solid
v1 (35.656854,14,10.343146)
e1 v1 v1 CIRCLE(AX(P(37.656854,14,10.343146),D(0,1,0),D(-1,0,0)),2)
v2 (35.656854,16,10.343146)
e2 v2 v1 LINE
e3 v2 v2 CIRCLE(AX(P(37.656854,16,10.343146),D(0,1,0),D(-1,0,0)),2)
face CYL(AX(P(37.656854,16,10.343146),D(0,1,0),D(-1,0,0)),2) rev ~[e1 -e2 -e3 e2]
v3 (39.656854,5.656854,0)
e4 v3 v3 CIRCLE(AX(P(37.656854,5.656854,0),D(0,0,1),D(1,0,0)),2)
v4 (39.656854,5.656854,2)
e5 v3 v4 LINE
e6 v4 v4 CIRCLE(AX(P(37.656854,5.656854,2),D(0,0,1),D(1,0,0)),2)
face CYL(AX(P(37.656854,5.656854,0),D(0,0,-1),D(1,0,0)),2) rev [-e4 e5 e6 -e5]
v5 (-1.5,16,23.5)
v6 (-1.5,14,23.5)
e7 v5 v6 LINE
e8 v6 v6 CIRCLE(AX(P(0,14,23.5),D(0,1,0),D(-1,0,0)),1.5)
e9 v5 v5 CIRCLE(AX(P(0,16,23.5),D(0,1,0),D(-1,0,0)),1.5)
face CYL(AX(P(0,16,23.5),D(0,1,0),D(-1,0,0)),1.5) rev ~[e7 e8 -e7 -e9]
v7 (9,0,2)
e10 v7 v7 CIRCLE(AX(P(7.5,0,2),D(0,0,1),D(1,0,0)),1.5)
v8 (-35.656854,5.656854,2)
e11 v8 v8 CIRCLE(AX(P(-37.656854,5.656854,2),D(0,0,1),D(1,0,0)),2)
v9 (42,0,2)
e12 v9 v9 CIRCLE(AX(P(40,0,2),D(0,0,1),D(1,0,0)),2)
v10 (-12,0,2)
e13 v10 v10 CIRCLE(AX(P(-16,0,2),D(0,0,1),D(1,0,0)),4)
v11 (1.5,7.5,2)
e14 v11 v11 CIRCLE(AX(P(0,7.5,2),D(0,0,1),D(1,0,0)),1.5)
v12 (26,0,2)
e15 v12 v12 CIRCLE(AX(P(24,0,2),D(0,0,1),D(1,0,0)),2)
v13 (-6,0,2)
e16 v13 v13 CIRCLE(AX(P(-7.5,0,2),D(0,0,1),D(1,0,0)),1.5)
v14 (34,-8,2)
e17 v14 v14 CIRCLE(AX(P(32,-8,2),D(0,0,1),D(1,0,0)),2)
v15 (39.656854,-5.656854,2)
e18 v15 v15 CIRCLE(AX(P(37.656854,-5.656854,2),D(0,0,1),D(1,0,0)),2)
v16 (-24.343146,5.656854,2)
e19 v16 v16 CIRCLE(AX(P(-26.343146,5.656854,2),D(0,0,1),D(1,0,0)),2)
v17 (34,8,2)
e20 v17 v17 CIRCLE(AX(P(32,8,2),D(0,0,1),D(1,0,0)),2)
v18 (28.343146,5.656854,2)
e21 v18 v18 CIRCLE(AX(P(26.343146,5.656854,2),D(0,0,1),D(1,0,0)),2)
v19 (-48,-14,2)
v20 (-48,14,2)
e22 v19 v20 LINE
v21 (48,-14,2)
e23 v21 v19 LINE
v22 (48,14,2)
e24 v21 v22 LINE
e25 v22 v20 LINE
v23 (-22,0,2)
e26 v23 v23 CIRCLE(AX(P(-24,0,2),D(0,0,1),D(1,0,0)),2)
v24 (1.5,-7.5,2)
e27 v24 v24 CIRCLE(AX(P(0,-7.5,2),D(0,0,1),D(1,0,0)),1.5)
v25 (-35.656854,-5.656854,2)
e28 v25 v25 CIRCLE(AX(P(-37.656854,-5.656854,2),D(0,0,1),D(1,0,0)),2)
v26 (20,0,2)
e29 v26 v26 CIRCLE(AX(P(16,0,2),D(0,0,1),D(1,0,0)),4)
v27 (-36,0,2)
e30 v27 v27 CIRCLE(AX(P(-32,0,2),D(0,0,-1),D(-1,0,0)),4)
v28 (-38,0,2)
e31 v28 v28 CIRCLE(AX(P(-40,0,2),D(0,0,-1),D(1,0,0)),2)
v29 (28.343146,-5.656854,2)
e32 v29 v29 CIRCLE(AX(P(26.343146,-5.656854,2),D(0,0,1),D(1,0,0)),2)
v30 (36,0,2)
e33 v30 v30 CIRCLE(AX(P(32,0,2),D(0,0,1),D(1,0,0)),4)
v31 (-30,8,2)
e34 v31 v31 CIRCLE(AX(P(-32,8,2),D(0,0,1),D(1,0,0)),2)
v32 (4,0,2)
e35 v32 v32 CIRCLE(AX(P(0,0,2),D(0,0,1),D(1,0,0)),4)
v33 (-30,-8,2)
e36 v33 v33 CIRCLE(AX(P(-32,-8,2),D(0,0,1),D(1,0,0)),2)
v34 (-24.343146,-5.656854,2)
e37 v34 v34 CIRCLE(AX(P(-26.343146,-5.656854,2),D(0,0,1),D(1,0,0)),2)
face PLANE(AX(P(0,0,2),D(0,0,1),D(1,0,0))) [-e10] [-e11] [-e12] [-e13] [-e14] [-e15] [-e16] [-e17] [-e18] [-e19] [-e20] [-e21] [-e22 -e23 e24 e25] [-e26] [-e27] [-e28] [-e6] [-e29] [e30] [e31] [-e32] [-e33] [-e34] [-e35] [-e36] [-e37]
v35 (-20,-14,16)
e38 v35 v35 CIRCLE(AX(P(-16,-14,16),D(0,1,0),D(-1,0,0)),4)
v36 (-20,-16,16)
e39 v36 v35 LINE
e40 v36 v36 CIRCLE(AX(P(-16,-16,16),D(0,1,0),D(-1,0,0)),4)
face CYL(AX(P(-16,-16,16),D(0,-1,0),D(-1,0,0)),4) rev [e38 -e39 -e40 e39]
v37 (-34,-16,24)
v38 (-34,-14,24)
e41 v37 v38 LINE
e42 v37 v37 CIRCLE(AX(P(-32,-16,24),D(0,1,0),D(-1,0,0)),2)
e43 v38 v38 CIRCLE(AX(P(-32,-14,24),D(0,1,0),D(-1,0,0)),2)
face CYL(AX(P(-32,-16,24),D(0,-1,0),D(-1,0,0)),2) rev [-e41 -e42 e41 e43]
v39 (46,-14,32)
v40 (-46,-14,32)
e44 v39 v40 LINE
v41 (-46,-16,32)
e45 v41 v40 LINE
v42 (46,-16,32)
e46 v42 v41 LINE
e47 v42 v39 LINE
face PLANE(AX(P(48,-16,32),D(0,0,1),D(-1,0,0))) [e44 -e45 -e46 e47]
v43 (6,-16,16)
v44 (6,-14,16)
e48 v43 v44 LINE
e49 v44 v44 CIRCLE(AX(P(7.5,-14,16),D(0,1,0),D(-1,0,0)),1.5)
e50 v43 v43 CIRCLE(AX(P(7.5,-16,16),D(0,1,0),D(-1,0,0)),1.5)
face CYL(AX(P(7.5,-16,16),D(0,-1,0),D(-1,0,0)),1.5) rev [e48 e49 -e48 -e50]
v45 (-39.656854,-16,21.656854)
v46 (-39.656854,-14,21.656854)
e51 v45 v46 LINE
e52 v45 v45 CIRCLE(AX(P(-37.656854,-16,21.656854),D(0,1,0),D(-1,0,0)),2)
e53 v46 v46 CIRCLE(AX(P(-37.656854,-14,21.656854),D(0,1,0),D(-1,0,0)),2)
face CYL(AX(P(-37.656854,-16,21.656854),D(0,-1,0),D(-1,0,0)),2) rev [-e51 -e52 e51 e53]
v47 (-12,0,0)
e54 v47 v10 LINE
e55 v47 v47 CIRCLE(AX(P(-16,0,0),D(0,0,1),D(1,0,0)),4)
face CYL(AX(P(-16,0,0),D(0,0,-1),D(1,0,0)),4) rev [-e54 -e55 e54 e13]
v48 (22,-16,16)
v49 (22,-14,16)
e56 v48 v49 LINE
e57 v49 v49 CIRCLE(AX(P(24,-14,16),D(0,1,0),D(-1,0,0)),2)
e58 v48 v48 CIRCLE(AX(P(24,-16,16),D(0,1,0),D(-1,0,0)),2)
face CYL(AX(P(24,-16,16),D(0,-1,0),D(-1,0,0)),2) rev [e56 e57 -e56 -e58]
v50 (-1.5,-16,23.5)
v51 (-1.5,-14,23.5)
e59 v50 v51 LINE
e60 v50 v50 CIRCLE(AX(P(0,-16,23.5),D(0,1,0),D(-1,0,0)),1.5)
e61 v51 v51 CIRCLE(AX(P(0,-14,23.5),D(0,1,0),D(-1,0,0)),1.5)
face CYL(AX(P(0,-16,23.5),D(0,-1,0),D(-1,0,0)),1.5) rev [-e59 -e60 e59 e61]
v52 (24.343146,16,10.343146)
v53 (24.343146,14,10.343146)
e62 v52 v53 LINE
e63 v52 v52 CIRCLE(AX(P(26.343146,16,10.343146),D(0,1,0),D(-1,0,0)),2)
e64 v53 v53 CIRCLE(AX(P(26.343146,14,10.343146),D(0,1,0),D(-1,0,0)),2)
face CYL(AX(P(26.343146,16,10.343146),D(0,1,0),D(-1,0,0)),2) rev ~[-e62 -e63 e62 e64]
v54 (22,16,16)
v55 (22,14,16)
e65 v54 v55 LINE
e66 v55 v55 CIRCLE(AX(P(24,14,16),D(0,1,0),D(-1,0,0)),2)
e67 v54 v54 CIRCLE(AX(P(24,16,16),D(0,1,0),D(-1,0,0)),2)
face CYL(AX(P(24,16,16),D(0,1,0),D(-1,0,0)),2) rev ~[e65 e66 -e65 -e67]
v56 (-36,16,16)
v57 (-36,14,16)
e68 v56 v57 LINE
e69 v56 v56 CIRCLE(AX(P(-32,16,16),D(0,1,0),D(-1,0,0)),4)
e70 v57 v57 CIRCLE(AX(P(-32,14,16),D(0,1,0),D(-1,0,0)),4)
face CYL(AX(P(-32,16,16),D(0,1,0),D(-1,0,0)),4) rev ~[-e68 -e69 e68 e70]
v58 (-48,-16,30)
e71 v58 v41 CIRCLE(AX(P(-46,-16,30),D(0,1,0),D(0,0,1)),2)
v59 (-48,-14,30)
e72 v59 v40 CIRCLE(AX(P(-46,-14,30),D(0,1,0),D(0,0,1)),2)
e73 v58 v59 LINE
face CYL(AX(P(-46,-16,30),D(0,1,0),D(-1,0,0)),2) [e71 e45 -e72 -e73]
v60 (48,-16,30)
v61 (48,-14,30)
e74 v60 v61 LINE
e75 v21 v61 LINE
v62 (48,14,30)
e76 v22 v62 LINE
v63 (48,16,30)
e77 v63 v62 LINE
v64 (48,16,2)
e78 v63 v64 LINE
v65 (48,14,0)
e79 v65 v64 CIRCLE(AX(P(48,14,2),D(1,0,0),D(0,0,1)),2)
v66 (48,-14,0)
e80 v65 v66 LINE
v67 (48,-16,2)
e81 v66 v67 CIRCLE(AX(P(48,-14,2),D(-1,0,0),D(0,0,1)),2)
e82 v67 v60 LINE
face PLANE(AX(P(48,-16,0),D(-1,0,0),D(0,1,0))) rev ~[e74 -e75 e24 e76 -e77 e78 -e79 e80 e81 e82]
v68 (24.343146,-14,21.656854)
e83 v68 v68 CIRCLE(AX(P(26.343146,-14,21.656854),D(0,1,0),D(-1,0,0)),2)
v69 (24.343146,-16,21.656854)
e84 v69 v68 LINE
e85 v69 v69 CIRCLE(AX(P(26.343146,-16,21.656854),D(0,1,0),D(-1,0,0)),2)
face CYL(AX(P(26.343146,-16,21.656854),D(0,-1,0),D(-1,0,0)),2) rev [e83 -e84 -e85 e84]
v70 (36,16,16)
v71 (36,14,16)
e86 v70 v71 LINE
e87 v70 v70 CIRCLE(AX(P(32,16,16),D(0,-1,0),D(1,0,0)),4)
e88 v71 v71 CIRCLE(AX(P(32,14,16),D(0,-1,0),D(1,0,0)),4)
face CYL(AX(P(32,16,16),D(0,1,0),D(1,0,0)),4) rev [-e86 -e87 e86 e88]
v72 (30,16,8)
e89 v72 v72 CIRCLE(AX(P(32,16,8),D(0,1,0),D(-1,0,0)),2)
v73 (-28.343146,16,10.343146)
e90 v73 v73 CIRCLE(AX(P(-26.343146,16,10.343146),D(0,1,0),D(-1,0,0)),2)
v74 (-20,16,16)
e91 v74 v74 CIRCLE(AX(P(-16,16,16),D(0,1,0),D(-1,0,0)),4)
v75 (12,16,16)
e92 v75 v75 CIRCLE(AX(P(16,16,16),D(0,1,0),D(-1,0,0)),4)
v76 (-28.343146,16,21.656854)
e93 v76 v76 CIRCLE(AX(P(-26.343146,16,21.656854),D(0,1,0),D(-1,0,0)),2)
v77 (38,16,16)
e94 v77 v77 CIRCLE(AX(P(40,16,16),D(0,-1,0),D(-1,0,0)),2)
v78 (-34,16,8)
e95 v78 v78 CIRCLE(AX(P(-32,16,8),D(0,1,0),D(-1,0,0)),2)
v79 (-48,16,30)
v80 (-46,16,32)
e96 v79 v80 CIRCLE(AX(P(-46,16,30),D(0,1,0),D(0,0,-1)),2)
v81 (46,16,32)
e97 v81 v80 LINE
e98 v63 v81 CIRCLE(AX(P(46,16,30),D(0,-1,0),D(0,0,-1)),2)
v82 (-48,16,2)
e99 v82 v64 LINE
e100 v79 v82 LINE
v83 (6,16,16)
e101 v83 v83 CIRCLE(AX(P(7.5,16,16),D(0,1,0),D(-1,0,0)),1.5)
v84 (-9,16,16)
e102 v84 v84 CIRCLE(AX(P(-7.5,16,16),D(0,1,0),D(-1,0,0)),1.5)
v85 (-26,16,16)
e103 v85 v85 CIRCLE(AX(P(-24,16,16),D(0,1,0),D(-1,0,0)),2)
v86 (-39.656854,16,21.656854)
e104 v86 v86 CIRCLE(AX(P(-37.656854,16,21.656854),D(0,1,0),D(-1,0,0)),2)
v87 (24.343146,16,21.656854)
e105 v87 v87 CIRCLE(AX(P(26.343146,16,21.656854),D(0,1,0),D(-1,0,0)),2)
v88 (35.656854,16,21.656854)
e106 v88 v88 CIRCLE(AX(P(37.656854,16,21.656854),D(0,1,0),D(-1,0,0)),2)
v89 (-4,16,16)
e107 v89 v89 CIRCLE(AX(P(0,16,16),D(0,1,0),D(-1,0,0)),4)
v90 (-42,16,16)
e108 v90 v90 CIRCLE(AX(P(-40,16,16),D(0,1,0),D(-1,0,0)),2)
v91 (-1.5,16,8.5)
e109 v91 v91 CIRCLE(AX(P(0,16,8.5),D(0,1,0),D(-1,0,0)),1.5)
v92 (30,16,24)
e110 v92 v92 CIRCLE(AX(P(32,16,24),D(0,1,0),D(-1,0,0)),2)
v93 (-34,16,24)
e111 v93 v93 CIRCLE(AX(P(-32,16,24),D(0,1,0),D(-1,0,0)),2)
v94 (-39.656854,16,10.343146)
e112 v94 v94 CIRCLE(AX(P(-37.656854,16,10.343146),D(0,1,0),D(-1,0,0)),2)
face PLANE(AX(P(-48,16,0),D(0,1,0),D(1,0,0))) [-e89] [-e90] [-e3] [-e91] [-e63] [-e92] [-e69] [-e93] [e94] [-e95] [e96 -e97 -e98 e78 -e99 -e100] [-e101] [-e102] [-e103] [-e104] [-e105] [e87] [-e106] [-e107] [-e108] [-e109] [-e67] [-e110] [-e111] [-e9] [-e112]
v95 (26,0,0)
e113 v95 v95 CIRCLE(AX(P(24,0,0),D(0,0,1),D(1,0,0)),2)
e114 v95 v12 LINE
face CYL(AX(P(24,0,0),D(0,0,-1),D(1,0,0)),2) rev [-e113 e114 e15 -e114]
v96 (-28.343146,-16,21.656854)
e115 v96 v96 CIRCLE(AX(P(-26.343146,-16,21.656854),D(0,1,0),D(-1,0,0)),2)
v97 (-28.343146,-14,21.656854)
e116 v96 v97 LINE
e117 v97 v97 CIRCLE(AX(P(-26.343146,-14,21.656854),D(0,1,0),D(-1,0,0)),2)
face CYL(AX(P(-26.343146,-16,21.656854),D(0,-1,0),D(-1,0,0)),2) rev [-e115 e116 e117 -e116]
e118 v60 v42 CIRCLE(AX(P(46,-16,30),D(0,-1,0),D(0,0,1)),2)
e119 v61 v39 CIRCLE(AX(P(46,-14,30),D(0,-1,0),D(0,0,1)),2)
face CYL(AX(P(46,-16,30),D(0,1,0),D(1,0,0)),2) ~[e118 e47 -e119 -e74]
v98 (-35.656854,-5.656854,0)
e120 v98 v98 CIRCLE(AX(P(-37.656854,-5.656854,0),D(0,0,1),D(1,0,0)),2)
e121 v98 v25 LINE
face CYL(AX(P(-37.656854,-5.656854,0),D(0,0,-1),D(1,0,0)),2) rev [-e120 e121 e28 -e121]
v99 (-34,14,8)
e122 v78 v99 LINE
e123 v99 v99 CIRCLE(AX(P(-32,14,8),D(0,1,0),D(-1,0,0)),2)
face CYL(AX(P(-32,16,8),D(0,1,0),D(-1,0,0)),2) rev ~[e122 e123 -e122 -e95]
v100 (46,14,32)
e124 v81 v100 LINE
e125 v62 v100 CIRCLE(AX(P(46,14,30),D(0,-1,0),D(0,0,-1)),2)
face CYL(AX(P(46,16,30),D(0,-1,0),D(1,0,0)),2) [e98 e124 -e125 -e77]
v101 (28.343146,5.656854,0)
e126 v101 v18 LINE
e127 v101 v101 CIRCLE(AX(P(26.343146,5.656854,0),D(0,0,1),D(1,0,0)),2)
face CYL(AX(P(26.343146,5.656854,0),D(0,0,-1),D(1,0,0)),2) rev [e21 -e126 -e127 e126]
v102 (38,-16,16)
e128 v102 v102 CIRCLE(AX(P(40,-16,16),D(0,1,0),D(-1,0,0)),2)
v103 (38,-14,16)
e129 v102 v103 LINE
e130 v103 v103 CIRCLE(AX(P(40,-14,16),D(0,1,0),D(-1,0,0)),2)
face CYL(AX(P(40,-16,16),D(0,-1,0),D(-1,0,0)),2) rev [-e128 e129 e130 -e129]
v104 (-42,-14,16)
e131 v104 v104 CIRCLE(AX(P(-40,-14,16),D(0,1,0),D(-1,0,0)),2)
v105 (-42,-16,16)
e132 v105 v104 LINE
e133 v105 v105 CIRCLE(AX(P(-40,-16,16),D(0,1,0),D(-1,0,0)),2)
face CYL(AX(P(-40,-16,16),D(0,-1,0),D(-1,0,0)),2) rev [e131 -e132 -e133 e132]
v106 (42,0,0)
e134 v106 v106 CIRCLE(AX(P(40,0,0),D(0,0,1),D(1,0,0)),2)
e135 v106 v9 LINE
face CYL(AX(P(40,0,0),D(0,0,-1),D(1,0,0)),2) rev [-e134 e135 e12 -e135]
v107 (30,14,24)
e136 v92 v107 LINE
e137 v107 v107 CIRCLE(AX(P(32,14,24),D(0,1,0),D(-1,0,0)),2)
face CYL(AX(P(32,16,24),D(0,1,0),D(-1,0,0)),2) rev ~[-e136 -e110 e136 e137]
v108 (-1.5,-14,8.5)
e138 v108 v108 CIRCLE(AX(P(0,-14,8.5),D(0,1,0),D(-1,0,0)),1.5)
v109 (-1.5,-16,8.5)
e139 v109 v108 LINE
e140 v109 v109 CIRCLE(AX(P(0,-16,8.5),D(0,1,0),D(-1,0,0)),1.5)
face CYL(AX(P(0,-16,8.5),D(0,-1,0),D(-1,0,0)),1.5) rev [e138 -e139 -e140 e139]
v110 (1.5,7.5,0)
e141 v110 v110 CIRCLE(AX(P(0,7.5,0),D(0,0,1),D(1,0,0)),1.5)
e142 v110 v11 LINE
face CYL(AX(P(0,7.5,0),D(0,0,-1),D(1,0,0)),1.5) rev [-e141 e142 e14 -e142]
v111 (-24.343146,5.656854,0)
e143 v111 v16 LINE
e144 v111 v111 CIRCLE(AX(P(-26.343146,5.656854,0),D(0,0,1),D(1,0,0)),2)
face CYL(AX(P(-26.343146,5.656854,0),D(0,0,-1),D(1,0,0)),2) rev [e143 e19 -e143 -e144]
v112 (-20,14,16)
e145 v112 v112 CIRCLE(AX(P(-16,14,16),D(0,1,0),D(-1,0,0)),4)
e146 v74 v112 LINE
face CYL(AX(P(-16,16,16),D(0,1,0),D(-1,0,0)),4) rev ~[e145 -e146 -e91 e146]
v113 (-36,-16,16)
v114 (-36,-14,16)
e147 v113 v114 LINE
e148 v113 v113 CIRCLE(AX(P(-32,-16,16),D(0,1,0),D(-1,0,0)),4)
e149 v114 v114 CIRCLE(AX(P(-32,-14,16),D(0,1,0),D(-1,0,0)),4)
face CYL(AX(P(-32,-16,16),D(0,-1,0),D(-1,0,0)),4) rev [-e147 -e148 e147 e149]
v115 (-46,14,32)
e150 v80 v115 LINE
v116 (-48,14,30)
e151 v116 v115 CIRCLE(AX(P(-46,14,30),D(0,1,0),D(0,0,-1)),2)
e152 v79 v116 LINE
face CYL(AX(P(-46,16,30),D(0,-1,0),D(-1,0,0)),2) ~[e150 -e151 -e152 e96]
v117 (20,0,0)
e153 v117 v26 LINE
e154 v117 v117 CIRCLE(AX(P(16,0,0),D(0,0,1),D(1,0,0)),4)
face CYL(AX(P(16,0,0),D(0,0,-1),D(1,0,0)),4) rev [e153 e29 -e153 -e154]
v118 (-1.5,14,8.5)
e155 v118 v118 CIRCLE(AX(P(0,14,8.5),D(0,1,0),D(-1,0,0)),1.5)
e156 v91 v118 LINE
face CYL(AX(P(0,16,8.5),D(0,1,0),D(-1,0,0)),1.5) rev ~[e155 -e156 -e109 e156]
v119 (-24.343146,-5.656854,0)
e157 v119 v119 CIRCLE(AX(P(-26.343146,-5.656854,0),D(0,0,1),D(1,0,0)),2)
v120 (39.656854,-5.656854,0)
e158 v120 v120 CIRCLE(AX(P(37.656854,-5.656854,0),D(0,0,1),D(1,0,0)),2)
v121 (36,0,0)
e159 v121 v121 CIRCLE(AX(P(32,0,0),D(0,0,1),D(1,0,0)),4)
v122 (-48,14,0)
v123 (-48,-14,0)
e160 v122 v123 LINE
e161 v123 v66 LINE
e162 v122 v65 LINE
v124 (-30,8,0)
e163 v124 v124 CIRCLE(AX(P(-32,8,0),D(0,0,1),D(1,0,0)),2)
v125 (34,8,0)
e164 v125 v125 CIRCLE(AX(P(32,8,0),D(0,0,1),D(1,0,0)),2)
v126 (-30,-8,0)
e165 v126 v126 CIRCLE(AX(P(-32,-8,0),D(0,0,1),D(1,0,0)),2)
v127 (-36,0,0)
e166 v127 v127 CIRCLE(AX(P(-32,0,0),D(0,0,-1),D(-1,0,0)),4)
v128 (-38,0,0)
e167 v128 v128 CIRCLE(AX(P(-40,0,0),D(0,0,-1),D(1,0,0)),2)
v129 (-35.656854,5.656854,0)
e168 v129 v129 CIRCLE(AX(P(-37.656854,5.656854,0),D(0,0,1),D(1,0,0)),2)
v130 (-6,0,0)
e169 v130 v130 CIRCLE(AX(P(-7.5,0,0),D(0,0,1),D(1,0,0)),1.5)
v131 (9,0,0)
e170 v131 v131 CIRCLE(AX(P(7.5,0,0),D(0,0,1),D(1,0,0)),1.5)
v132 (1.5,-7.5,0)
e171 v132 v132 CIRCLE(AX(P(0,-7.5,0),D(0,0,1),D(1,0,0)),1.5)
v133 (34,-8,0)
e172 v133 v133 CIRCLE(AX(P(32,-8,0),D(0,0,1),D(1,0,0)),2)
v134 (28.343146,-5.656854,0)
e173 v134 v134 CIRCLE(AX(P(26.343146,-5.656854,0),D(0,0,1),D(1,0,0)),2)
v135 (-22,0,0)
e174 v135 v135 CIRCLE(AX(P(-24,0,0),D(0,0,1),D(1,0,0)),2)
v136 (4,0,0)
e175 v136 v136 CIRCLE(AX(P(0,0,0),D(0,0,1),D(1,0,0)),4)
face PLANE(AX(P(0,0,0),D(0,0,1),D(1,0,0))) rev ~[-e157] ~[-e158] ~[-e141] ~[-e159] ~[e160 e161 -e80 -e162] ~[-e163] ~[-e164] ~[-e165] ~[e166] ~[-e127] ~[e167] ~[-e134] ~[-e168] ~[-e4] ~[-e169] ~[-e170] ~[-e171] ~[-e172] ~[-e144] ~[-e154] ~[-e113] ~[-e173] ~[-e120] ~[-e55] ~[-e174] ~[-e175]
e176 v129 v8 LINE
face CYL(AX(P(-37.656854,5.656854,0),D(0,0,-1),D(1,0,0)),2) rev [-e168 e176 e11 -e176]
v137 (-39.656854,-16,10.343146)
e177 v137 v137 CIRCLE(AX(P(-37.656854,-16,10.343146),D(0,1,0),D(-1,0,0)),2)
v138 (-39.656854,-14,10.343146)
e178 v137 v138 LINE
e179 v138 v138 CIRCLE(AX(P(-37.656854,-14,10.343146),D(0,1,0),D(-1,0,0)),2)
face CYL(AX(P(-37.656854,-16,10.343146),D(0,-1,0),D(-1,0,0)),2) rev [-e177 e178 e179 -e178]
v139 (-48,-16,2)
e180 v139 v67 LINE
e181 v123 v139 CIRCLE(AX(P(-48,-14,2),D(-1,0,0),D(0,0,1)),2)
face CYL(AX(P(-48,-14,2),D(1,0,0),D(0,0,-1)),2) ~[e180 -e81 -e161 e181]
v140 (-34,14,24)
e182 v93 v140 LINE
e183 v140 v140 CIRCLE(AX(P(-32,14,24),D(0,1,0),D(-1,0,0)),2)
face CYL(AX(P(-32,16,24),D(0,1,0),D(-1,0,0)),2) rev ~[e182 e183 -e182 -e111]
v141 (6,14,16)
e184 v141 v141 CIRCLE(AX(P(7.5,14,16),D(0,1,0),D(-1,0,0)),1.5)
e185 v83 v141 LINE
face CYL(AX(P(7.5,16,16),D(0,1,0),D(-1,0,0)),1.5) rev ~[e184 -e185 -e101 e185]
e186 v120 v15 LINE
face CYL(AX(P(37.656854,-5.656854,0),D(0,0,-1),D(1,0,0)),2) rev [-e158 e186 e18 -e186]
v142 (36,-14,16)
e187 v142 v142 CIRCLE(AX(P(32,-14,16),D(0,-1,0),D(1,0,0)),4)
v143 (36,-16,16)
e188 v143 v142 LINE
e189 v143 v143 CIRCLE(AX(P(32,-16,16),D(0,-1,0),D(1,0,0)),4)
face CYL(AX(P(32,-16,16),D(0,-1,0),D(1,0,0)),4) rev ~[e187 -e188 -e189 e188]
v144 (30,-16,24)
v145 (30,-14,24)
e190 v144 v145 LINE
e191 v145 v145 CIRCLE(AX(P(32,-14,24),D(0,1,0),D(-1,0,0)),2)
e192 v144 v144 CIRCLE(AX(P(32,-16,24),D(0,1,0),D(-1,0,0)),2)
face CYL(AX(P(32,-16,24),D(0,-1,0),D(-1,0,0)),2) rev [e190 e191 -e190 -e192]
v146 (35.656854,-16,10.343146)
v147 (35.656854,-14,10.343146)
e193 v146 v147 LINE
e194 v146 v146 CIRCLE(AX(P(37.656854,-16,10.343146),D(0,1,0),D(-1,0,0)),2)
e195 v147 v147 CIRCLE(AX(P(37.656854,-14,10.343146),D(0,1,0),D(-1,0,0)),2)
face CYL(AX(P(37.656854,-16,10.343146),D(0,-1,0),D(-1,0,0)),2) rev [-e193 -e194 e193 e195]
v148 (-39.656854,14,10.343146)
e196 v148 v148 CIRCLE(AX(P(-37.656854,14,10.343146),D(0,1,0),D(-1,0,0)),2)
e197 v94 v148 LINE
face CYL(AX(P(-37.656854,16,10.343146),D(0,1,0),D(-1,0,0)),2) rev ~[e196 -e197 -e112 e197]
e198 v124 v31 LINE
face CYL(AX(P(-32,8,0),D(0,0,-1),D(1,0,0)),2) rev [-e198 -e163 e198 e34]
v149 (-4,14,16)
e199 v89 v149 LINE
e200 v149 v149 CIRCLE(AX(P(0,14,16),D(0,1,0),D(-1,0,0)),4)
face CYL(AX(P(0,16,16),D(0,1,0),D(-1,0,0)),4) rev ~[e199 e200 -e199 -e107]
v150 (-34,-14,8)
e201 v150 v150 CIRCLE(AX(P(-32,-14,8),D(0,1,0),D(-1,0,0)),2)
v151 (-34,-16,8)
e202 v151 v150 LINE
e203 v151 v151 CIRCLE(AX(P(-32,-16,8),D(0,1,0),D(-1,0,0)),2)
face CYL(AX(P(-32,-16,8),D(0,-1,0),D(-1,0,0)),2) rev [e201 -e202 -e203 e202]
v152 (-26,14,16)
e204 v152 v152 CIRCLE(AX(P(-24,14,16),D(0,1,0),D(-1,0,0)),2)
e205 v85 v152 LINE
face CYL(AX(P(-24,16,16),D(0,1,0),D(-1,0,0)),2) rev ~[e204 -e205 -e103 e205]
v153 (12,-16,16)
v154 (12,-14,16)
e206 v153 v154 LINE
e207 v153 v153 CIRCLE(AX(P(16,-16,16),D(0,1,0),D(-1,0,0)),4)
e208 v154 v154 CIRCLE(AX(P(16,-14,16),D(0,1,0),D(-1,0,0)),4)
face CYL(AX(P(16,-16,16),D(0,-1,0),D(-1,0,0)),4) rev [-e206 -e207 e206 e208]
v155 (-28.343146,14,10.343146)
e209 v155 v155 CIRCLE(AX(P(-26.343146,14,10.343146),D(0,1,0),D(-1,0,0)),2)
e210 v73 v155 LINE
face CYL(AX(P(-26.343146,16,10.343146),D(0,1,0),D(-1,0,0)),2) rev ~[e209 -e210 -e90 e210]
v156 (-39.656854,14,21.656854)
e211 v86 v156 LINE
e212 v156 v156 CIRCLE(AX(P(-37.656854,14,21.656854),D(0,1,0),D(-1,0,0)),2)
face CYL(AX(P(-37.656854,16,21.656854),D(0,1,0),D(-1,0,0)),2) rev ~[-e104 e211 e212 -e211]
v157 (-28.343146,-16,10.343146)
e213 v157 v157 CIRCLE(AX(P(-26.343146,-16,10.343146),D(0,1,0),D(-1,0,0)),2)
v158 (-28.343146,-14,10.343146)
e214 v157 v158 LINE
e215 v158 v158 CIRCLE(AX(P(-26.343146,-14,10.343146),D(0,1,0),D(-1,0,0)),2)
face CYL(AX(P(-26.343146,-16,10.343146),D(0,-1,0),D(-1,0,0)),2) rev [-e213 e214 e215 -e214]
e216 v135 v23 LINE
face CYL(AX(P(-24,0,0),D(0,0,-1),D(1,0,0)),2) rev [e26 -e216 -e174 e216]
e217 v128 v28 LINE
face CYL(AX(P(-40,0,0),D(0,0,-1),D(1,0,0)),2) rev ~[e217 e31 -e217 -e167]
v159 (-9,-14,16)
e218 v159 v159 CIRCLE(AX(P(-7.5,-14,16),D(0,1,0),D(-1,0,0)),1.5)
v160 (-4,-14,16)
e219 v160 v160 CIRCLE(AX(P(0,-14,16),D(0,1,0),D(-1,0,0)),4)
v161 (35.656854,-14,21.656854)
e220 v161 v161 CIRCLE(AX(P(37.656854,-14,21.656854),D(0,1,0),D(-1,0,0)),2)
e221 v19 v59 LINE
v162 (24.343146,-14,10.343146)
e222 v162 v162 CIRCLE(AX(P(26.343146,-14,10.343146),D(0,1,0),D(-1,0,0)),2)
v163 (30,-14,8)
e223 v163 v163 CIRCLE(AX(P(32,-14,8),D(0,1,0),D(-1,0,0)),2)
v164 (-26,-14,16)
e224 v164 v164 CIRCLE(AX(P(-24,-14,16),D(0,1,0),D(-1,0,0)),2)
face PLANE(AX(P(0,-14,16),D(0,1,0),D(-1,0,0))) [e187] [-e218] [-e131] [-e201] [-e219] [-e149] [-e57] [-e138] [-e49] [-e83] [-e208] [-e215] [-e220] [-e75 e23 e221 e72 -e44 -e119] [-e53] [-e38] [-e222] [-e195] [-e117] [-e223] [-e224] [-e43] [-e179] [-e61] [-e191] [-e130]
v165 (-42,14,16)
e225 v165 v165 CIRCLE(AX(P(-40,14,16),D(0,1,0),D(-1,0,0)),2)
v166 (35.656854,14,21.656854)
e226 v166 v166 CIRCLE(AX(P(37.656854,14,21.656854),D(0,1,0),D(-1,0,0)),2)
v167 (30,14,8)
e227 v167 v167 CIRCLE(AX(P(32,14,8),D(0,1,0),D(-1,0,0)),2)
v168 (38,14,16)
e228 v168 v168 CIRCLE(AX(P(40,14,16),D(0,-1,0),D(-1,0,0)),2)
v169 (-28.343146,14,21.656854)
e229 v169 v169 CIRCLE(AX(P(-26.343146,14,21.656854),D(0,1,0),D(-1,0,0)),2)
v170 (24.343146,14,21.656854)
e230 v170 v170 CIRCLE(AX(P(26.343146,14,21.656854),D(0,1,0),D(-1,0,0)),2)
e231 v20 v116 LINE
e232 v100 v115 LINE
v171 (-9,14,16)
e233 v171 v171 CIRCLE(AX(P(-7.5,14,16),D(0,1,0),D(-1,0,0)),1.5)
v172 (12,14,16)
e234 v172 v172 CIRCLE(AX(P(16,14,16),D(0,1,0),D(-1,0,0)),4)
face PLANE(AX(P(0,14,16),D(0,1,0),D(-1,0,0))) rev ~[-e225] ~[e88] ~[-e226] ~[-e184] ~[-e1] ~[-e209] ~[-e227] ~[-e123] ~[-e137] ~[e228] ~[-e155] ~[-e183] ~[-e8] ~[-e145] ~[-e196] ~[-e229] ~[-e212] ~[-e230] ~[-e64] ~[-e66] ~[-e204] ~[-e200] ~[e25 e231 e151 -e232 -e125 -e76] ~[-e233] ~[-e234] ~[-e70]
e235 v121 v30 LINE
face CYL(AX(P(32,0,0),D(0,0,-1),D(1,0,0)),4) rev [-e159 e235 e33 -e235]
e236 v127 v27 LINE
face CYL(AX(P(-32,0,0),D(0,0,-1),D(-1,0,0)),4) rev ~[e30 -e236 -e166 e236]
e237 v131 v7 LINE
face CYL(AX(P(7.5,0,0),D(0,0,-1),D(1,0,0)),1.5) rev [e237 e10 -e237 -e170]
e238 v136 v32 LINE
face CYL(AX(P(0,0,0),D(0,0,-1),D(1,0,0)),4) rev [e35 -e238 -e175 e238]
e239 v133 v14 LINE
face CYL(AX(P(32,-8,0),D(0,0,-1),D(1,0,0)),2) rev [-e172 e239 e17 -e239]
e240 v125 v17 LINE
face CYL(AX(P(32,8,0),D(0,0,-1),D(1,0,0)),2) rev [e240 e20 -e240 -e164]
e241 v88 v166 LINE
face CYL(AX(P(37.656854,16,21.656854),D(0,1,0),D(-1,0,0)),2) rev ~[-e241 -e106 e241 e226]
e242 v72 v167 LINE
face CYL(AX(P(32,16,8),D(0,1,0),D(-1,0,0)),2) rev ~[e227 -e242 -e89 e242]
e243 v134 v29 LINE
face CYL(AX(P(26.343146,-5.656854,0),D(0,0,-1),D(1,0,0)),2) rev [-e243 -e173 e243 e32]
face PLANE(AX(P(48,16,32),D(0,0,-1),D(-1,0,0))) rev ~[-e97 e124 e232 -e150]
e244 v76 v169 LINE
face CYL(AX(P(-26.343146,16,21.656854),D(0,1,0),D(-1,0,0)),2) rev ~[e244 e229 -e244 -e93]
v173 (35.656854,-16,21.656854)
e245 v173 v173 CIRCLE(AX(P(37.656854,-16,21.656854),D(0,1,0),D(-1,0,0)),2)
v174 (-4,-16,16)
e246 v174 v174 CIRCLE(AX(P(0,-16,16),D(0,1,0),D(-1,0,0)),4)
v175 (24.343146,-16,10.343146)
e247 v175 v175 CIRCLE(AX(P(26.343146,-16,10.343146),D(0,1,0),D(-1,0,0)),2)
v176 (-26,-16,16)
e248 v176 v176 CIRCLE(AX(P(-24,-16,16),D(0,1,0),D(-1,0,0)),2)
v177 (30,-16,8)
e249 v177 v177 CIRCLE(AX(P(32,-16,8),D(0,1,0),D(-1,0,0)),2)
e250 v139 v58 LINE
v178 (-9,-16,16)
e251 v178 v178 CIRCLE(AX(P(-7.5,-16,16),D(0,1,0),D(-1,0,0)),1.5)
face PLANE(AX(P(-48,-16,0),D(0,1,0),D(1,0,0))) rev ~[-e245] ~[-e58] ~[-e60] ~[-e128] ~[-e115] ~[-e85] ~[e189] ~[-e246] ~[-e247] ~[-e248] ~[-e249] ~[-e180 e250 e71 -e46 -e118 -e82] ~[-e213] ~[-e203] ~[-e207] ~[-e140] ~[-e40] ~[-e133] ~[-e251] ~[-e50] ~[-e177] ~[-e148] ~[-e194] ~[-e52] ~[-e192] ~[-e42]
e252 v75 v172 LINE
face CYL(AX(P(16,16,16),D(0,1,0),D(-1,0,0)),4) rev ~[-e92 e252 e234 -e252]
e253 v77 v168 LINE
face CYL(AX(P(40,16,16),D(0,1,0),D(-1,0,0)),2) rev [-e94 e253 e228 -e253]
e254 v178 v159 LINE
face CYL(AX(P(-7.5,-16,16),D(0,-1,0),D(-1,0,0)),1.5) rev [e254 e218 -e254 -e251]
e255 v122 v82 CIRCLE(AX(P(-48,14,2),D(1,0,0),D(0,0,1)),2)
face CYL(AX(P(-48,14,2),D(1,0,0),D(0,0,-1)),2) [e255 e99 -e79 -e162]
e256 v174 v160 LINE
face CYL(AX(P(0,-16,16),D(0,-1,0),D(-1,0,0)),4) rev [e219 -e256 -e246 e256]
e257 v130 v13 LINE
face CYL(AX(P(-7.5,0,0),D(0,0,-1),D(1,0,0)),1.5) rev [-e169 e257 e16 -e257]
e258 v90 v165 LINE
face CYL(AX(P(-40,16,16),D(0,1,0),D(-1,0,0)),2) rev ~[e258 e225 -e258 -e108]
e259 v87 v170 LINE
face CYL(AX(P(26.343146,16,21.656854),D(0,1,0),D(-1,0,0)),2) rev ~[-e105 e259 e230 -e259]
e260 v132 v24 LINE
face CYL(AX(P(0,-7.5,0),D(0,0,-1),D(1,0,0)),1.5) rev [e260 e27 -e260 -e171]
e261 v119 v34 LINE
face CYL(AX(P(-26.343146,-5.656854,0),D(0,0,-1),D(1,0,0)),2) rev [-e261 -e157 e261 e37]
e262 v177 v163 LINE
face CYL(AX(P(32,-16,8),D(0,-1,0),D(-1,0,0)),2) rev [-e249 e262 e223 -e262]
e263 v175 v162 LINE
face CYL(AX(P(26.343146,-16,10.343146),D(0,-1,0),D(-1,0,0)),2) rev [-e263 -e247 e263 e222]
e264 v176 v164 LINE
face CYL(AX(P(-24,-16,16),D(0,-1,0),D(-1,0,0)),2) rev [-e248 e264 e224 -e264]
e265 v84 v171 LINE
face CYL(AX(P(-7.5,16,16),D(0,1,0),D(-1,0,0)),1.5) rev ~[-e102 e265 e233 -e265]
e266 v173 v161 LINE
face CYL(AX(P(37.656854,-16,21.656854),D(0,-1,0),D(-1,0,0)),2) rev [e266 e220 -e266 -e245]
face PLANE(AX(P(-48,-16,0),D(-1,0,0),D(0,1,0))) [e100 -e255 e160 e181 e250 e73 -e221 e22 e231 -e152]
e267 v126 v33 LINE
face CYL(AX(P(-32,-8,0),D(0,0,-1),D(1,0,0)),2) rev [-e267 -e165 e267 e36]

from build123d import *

# Parameters (mm, degrees)
F0_W     = 96
F0_H     = 32
F0_R     = 2
F0_R_2   = 1.5
F0_R_3   = 4
F5_DEPTH = 2
F3_W     = 96
F3_H     = 32
F3_R     = 2
F3_R_2   = 1.5
F3_R_3   = 4
F6_DEPTH = 2
F4_W     = 96
F4_H     = 32
F4_R     = 2
F4_R_2   = 1.5
F4_R_3   = 4
F7_DEPTH = 2
F8_R     = 2


with BuildPart() as f5:
    # F0 (on Top) → F5 (new body)
    with BuildSketch(Plane.XY):
        Rectangle(F0_W, F0_H)
        with Locations((-37.656854, -5.656854)):
            Circle(F0_R, mode=Mode.SUBTRACT)
        with Locations((-32, -8)):
            Circle(F0_R, mode=Mode.SUBTRACT)
        with Locations((-26.343146, -5.656854)):
            Circle(F0_R, mode=Mode.SUBTRACT)
        with Locations((0, -7.5)):
            Circle(F0_R_2, mode=Mode.SUBTRACT)
        with Locations((32, -8)):
            Circle(F0_R, mode=Mode.SUBTRACT)
        with Locations((26.343146, -5.656854)):
            Circle(F0_R, mode=Mode.SUBTRACT)
        with Locations((37.656854, -5.656854)):
            Circle(F0_R, mode=Mode.SUBTRACT)
        with BuildLine():
            ThreePointArc((-42, 0), (-40, 2), (-38, 0))
            ThreePointArc((-38, 0), (-40, -2), (-42, 0))
        make_face(mode=Mode.SUBTRACT)
        with BuildLine():
            ThreePointArc((-28, 0), (-32, -4), (-36, 0))
            ThreePointArc((-36, 0), (-32, 4), (-28, 0))
        make_face(mode=Mode.SUBTRACT)
        with Locations((-37.656854, 5.656854)):
            Circle(F0_R, mode=Mode.SUBTRACT)
        with Locations((-26.343146, 5.656854)):
            Circle(F0_R, mode=Mode.SUBTRACT)
        with Locations((-24, 0)):
            Circle(F0_R, mode=Mode.SUBTRACT)
        with Locations((-16, 0)):
            Circle(F0_R_3, mode=Mode.SUBTRACT)
        with Locations((-7.5, 0)):
            Circle(F0_R_2, mode=Mode.SUBTRACT)
        with Locations((-32, 8)):
            Circle(F0_R, mode=Mode.SUBTRACT)
        Circle(F0_R_3, mode=Mode.SUBTRACT)
        with Locations((7.5, 0)):
            Circle(F0_R_2, mode=Mode.SUBTRACT)
        with Locations((16, 0)):
            Circle(F0_R_3, mode=Mode.SUBTRACT)
        with Locations((0, 7.5)):
            Circle(F0_R_2, mode=Mode.SUBTRACT)
        with Locations((24, 0)):
            Circle(F0_R, mode=Mode.SUBTRACT)
        with Locations((32, 0)):
            Circle(F0_R_3, mode=Mode.SUBTRACT)
        with Locations((40, 0)):
            Circle(F0_R, mode=Mode.SUBTRACT)
        with Locations((26.343146, 5.656854)):
            Circle(F0_R, mode=Mode.SUBTRACT)
        with Locations((37.656854, 5.656854)):
            Circle(F0_R, mode=Mode.SUBTRACT)
        with Locations((32, 8)):
            Circle(F0_R, mode=Mode.SUBTRACT)
    extrude(amount=F5_DEPTH)

    # F3 (on face) → F6 (join)
    with BuildSketch(Plane(origin=(0, 16, 0), x_dir=(-1, 0, 0), z_dir=(0, 1, 0))):
        with Locations((0, 16)):
            Rectangle(F3_W, F3_H)
        with Locations((-37.656854, 10.343146)):
            Circle(F3_R, mode=Mode.SUBTRACT)
        with Locations((-32, 8)):
            Circle(F3_R, mode=Mode.SUBTRACT)
        with Locations((-26.343146, 10.343146)):
            Circle(F3_R, mode=Mode.SUBTRACT)
        with Locations((0, 8.5)):
            Circle(F3_R_2, mode=Mode.SUBTRACT)
        with Locations((32, 8)):
            Circle(F3_R, mode=Mode.SUBTRACT)
        with Locations((26.343146, 10.343146)):
            Circle(F3_R, mode=Mode.SUBTRACT)
        with Locations((37.656854, 10.343146)):
            Circle(F3_R, mode=Mode.SUBTRACT)
        with BuildLine():
            ThreePointArc((-42, 16), (-40, 18), (-38, 16))
            ThreePointArc((-38, 16), (-40, 14), (-42, 16))
        make_face(mode=Mode.SUBTRACT)
        with BuildLine():
            ThreePointArc((-28, 16), (-32, 12), (-36, 16))
            ThreePointArc((-36, 16), (-32, 20), (-28, 16))
        make_face(mode=Mode.SUBTRACT)
        with Locations((-37.656854, 21.656854)):
            Circle(F3_R, mode=Mode.SUBTRACT)
        with Locations((-26.343146, 21.656854)):
            Circle(F3_R, mode=Mode.SUBTRACT)
        with Locations((-24, 16)):
            Circle(F3_R, mode=Mode.SUBTRACT)
        with Locations((-16, 16)):
            Circle(F3_R_3, mode=Mode.SUBTRACT)
        with Locations((-7.5, 16)):
            Circle(F3_R_2, mode=Mode.SUBTRACT)
        with Locations((-32, 24)):
            Circle(F3_R, mode=Mode.SUBTRACT)
        with Locations((0, 16)):
            Circle(F3_R_3, mode=Mode.SUBTRACT)
        with Locations((7.5, 16)):
            Circle(F3_R_2, mode=Mode.SUBTRACT)
        with Locations((16, 16)):
            Circle(F3_R_3, mode=Mode.SUBTRACT)
        with Locations((0, 23.5)):
            Circle(F3_R_2, mode=Mode.SUBTRACT)
        with Locations((24, 16)):
            Circle(F3_R, mode=Mode.SUBTRACT)
        with Locations((32, 16)):
            Circle(F3_R_3, mode=Mode.SUBTRACT)
        with Locations((40, 16)):
            Circle(F3_R, mode=Mode.SUBTRACT)
        with Locations((26.343146, 21.656854)):
            Circle(F3_R, mode=Mode.SUBTRACT)
        with Locations((37.656854, 21.656854)):
            Circle(F3_R, mode=Mode.SUBTRACT)
        with Locations((32, 24)):
            Circle(F3_R, mode=Mode.SUBTRACT)
    extrude(amount=-F6_DEPTH)

    # F4 (on face) → F7 (join)
    with BuildSketch(Plane(origin=(0, -16, 0), x_dir=(-1, 0, 0), z_dir=(0, 1, 0))):
        with Locations((0, 16)):
            Rectangle(F4_W, F4_H)
        with Locations((-37.656854, 10.343146)):
            Circle(F4_R, mode=Mode.SUBTRACT)
        with Locations((-32, 8)):
            Circle(F4_R, mode=Mode.SUBTRACT)
        with Locations((-26.343146, 10.343146)):
            Circle(F4_R, mode=Mode.SUBTRACT)
        with Locations((0, 8.5)):
            Circle(F4_R_2, mode=Mode.SUBTRACT)
        with Locations((32, 8)):
            Circle(F4_R, mode=Mode.SUBTRACT)
        with Locations((26.343146, 10.343146)):
            Circle(F4_R, mode=Mode.SUBTRACT)
        with Locations((37.656854, 10.343146)):
            Circle(F4_R, mode=Mode.SUBTRACT)
        with Locations((-40, 16)):
            Circle(F4_R, mode=Mode.SUBTRACT)
        with BuildLine():
            ThreePointArc((-28, 16), (-32, 12), (-36, 16))
            ThreePointArc((-36, 16), (-32, 20), (-28, 16))
        make_face(mode=Mode.SUBTRACT)
        with Locations((-37.656854, 21.656854)):
            Circle(F4_R, mode=Mode.SUBTRACT)
        with Locations((-26.343146, 21.656854)):
            Circle(F4_R, mode=Mode.SUBTRACT)
        with Locations((-24, 16)):
            Circle(F4_R, mode=Mode.SUBTRACT)
        with Locations((-16, 16)):
            Circle(F4_R_3, mode=Mode.SUBTRACT)
        with Locations((-7.5, 16)):
            Circle(F4_R_2, mode=Mode.SUBTRACT)
        with Locations((-32, 24)):
            Circle(F4_R, mode=Mode.SUBTRACT)
        with Locations((0, 16)):
            Circle(F4_R_3, mode=Mode.SUBTRACT)
        with Locations((7.5, 16)):
            Circle(F4_R_2, mode=Mode.SUBTRACT)
        with Locations((16, 16)):
            Circle(F4_R_3, mode=Mode.SUBTRACT)
        with Locations((0, 23.5)):
            Circle(F4_R_2, mode=Mode.SUBTRACT)
        with Locations((24, 16)):
            Circle(F4_R, mode=Mode.SUBTRACT)
        with Locations((32, 16)):
            Circle(F4_R_3, mode=Mode.SUBTRACT)
        with Locations((40, 16)):
            Circle(F4_R, mode=Mode.SUBTRACT)
        with Locations((26.343146, 21.656854)):
            Circle(F4_R, mode=Mode.SUBTRACT)
        with Locations((37.656854, 21.656854)):
            Circle(F4_R, mode=Mode.SUBTRACT)
        with Locations((32, 24)):
            Circle(F4_R, mode=Mode.SUBTRACT)
    extrude(amount=F7_DEPTH)

    # F8
    f8_edges = [f5.edges().sort_by_distance(p)[0] for p in [
        (0, 16, 0),
        (48, 15, 32),
        (48, -15, 32),
        (0, -16, 0),
        (-48, 15, 32),
        (-48, -15, 32),
    ]]
    fillet(f8_edges, radius=F8_R)


solid = f5.part
